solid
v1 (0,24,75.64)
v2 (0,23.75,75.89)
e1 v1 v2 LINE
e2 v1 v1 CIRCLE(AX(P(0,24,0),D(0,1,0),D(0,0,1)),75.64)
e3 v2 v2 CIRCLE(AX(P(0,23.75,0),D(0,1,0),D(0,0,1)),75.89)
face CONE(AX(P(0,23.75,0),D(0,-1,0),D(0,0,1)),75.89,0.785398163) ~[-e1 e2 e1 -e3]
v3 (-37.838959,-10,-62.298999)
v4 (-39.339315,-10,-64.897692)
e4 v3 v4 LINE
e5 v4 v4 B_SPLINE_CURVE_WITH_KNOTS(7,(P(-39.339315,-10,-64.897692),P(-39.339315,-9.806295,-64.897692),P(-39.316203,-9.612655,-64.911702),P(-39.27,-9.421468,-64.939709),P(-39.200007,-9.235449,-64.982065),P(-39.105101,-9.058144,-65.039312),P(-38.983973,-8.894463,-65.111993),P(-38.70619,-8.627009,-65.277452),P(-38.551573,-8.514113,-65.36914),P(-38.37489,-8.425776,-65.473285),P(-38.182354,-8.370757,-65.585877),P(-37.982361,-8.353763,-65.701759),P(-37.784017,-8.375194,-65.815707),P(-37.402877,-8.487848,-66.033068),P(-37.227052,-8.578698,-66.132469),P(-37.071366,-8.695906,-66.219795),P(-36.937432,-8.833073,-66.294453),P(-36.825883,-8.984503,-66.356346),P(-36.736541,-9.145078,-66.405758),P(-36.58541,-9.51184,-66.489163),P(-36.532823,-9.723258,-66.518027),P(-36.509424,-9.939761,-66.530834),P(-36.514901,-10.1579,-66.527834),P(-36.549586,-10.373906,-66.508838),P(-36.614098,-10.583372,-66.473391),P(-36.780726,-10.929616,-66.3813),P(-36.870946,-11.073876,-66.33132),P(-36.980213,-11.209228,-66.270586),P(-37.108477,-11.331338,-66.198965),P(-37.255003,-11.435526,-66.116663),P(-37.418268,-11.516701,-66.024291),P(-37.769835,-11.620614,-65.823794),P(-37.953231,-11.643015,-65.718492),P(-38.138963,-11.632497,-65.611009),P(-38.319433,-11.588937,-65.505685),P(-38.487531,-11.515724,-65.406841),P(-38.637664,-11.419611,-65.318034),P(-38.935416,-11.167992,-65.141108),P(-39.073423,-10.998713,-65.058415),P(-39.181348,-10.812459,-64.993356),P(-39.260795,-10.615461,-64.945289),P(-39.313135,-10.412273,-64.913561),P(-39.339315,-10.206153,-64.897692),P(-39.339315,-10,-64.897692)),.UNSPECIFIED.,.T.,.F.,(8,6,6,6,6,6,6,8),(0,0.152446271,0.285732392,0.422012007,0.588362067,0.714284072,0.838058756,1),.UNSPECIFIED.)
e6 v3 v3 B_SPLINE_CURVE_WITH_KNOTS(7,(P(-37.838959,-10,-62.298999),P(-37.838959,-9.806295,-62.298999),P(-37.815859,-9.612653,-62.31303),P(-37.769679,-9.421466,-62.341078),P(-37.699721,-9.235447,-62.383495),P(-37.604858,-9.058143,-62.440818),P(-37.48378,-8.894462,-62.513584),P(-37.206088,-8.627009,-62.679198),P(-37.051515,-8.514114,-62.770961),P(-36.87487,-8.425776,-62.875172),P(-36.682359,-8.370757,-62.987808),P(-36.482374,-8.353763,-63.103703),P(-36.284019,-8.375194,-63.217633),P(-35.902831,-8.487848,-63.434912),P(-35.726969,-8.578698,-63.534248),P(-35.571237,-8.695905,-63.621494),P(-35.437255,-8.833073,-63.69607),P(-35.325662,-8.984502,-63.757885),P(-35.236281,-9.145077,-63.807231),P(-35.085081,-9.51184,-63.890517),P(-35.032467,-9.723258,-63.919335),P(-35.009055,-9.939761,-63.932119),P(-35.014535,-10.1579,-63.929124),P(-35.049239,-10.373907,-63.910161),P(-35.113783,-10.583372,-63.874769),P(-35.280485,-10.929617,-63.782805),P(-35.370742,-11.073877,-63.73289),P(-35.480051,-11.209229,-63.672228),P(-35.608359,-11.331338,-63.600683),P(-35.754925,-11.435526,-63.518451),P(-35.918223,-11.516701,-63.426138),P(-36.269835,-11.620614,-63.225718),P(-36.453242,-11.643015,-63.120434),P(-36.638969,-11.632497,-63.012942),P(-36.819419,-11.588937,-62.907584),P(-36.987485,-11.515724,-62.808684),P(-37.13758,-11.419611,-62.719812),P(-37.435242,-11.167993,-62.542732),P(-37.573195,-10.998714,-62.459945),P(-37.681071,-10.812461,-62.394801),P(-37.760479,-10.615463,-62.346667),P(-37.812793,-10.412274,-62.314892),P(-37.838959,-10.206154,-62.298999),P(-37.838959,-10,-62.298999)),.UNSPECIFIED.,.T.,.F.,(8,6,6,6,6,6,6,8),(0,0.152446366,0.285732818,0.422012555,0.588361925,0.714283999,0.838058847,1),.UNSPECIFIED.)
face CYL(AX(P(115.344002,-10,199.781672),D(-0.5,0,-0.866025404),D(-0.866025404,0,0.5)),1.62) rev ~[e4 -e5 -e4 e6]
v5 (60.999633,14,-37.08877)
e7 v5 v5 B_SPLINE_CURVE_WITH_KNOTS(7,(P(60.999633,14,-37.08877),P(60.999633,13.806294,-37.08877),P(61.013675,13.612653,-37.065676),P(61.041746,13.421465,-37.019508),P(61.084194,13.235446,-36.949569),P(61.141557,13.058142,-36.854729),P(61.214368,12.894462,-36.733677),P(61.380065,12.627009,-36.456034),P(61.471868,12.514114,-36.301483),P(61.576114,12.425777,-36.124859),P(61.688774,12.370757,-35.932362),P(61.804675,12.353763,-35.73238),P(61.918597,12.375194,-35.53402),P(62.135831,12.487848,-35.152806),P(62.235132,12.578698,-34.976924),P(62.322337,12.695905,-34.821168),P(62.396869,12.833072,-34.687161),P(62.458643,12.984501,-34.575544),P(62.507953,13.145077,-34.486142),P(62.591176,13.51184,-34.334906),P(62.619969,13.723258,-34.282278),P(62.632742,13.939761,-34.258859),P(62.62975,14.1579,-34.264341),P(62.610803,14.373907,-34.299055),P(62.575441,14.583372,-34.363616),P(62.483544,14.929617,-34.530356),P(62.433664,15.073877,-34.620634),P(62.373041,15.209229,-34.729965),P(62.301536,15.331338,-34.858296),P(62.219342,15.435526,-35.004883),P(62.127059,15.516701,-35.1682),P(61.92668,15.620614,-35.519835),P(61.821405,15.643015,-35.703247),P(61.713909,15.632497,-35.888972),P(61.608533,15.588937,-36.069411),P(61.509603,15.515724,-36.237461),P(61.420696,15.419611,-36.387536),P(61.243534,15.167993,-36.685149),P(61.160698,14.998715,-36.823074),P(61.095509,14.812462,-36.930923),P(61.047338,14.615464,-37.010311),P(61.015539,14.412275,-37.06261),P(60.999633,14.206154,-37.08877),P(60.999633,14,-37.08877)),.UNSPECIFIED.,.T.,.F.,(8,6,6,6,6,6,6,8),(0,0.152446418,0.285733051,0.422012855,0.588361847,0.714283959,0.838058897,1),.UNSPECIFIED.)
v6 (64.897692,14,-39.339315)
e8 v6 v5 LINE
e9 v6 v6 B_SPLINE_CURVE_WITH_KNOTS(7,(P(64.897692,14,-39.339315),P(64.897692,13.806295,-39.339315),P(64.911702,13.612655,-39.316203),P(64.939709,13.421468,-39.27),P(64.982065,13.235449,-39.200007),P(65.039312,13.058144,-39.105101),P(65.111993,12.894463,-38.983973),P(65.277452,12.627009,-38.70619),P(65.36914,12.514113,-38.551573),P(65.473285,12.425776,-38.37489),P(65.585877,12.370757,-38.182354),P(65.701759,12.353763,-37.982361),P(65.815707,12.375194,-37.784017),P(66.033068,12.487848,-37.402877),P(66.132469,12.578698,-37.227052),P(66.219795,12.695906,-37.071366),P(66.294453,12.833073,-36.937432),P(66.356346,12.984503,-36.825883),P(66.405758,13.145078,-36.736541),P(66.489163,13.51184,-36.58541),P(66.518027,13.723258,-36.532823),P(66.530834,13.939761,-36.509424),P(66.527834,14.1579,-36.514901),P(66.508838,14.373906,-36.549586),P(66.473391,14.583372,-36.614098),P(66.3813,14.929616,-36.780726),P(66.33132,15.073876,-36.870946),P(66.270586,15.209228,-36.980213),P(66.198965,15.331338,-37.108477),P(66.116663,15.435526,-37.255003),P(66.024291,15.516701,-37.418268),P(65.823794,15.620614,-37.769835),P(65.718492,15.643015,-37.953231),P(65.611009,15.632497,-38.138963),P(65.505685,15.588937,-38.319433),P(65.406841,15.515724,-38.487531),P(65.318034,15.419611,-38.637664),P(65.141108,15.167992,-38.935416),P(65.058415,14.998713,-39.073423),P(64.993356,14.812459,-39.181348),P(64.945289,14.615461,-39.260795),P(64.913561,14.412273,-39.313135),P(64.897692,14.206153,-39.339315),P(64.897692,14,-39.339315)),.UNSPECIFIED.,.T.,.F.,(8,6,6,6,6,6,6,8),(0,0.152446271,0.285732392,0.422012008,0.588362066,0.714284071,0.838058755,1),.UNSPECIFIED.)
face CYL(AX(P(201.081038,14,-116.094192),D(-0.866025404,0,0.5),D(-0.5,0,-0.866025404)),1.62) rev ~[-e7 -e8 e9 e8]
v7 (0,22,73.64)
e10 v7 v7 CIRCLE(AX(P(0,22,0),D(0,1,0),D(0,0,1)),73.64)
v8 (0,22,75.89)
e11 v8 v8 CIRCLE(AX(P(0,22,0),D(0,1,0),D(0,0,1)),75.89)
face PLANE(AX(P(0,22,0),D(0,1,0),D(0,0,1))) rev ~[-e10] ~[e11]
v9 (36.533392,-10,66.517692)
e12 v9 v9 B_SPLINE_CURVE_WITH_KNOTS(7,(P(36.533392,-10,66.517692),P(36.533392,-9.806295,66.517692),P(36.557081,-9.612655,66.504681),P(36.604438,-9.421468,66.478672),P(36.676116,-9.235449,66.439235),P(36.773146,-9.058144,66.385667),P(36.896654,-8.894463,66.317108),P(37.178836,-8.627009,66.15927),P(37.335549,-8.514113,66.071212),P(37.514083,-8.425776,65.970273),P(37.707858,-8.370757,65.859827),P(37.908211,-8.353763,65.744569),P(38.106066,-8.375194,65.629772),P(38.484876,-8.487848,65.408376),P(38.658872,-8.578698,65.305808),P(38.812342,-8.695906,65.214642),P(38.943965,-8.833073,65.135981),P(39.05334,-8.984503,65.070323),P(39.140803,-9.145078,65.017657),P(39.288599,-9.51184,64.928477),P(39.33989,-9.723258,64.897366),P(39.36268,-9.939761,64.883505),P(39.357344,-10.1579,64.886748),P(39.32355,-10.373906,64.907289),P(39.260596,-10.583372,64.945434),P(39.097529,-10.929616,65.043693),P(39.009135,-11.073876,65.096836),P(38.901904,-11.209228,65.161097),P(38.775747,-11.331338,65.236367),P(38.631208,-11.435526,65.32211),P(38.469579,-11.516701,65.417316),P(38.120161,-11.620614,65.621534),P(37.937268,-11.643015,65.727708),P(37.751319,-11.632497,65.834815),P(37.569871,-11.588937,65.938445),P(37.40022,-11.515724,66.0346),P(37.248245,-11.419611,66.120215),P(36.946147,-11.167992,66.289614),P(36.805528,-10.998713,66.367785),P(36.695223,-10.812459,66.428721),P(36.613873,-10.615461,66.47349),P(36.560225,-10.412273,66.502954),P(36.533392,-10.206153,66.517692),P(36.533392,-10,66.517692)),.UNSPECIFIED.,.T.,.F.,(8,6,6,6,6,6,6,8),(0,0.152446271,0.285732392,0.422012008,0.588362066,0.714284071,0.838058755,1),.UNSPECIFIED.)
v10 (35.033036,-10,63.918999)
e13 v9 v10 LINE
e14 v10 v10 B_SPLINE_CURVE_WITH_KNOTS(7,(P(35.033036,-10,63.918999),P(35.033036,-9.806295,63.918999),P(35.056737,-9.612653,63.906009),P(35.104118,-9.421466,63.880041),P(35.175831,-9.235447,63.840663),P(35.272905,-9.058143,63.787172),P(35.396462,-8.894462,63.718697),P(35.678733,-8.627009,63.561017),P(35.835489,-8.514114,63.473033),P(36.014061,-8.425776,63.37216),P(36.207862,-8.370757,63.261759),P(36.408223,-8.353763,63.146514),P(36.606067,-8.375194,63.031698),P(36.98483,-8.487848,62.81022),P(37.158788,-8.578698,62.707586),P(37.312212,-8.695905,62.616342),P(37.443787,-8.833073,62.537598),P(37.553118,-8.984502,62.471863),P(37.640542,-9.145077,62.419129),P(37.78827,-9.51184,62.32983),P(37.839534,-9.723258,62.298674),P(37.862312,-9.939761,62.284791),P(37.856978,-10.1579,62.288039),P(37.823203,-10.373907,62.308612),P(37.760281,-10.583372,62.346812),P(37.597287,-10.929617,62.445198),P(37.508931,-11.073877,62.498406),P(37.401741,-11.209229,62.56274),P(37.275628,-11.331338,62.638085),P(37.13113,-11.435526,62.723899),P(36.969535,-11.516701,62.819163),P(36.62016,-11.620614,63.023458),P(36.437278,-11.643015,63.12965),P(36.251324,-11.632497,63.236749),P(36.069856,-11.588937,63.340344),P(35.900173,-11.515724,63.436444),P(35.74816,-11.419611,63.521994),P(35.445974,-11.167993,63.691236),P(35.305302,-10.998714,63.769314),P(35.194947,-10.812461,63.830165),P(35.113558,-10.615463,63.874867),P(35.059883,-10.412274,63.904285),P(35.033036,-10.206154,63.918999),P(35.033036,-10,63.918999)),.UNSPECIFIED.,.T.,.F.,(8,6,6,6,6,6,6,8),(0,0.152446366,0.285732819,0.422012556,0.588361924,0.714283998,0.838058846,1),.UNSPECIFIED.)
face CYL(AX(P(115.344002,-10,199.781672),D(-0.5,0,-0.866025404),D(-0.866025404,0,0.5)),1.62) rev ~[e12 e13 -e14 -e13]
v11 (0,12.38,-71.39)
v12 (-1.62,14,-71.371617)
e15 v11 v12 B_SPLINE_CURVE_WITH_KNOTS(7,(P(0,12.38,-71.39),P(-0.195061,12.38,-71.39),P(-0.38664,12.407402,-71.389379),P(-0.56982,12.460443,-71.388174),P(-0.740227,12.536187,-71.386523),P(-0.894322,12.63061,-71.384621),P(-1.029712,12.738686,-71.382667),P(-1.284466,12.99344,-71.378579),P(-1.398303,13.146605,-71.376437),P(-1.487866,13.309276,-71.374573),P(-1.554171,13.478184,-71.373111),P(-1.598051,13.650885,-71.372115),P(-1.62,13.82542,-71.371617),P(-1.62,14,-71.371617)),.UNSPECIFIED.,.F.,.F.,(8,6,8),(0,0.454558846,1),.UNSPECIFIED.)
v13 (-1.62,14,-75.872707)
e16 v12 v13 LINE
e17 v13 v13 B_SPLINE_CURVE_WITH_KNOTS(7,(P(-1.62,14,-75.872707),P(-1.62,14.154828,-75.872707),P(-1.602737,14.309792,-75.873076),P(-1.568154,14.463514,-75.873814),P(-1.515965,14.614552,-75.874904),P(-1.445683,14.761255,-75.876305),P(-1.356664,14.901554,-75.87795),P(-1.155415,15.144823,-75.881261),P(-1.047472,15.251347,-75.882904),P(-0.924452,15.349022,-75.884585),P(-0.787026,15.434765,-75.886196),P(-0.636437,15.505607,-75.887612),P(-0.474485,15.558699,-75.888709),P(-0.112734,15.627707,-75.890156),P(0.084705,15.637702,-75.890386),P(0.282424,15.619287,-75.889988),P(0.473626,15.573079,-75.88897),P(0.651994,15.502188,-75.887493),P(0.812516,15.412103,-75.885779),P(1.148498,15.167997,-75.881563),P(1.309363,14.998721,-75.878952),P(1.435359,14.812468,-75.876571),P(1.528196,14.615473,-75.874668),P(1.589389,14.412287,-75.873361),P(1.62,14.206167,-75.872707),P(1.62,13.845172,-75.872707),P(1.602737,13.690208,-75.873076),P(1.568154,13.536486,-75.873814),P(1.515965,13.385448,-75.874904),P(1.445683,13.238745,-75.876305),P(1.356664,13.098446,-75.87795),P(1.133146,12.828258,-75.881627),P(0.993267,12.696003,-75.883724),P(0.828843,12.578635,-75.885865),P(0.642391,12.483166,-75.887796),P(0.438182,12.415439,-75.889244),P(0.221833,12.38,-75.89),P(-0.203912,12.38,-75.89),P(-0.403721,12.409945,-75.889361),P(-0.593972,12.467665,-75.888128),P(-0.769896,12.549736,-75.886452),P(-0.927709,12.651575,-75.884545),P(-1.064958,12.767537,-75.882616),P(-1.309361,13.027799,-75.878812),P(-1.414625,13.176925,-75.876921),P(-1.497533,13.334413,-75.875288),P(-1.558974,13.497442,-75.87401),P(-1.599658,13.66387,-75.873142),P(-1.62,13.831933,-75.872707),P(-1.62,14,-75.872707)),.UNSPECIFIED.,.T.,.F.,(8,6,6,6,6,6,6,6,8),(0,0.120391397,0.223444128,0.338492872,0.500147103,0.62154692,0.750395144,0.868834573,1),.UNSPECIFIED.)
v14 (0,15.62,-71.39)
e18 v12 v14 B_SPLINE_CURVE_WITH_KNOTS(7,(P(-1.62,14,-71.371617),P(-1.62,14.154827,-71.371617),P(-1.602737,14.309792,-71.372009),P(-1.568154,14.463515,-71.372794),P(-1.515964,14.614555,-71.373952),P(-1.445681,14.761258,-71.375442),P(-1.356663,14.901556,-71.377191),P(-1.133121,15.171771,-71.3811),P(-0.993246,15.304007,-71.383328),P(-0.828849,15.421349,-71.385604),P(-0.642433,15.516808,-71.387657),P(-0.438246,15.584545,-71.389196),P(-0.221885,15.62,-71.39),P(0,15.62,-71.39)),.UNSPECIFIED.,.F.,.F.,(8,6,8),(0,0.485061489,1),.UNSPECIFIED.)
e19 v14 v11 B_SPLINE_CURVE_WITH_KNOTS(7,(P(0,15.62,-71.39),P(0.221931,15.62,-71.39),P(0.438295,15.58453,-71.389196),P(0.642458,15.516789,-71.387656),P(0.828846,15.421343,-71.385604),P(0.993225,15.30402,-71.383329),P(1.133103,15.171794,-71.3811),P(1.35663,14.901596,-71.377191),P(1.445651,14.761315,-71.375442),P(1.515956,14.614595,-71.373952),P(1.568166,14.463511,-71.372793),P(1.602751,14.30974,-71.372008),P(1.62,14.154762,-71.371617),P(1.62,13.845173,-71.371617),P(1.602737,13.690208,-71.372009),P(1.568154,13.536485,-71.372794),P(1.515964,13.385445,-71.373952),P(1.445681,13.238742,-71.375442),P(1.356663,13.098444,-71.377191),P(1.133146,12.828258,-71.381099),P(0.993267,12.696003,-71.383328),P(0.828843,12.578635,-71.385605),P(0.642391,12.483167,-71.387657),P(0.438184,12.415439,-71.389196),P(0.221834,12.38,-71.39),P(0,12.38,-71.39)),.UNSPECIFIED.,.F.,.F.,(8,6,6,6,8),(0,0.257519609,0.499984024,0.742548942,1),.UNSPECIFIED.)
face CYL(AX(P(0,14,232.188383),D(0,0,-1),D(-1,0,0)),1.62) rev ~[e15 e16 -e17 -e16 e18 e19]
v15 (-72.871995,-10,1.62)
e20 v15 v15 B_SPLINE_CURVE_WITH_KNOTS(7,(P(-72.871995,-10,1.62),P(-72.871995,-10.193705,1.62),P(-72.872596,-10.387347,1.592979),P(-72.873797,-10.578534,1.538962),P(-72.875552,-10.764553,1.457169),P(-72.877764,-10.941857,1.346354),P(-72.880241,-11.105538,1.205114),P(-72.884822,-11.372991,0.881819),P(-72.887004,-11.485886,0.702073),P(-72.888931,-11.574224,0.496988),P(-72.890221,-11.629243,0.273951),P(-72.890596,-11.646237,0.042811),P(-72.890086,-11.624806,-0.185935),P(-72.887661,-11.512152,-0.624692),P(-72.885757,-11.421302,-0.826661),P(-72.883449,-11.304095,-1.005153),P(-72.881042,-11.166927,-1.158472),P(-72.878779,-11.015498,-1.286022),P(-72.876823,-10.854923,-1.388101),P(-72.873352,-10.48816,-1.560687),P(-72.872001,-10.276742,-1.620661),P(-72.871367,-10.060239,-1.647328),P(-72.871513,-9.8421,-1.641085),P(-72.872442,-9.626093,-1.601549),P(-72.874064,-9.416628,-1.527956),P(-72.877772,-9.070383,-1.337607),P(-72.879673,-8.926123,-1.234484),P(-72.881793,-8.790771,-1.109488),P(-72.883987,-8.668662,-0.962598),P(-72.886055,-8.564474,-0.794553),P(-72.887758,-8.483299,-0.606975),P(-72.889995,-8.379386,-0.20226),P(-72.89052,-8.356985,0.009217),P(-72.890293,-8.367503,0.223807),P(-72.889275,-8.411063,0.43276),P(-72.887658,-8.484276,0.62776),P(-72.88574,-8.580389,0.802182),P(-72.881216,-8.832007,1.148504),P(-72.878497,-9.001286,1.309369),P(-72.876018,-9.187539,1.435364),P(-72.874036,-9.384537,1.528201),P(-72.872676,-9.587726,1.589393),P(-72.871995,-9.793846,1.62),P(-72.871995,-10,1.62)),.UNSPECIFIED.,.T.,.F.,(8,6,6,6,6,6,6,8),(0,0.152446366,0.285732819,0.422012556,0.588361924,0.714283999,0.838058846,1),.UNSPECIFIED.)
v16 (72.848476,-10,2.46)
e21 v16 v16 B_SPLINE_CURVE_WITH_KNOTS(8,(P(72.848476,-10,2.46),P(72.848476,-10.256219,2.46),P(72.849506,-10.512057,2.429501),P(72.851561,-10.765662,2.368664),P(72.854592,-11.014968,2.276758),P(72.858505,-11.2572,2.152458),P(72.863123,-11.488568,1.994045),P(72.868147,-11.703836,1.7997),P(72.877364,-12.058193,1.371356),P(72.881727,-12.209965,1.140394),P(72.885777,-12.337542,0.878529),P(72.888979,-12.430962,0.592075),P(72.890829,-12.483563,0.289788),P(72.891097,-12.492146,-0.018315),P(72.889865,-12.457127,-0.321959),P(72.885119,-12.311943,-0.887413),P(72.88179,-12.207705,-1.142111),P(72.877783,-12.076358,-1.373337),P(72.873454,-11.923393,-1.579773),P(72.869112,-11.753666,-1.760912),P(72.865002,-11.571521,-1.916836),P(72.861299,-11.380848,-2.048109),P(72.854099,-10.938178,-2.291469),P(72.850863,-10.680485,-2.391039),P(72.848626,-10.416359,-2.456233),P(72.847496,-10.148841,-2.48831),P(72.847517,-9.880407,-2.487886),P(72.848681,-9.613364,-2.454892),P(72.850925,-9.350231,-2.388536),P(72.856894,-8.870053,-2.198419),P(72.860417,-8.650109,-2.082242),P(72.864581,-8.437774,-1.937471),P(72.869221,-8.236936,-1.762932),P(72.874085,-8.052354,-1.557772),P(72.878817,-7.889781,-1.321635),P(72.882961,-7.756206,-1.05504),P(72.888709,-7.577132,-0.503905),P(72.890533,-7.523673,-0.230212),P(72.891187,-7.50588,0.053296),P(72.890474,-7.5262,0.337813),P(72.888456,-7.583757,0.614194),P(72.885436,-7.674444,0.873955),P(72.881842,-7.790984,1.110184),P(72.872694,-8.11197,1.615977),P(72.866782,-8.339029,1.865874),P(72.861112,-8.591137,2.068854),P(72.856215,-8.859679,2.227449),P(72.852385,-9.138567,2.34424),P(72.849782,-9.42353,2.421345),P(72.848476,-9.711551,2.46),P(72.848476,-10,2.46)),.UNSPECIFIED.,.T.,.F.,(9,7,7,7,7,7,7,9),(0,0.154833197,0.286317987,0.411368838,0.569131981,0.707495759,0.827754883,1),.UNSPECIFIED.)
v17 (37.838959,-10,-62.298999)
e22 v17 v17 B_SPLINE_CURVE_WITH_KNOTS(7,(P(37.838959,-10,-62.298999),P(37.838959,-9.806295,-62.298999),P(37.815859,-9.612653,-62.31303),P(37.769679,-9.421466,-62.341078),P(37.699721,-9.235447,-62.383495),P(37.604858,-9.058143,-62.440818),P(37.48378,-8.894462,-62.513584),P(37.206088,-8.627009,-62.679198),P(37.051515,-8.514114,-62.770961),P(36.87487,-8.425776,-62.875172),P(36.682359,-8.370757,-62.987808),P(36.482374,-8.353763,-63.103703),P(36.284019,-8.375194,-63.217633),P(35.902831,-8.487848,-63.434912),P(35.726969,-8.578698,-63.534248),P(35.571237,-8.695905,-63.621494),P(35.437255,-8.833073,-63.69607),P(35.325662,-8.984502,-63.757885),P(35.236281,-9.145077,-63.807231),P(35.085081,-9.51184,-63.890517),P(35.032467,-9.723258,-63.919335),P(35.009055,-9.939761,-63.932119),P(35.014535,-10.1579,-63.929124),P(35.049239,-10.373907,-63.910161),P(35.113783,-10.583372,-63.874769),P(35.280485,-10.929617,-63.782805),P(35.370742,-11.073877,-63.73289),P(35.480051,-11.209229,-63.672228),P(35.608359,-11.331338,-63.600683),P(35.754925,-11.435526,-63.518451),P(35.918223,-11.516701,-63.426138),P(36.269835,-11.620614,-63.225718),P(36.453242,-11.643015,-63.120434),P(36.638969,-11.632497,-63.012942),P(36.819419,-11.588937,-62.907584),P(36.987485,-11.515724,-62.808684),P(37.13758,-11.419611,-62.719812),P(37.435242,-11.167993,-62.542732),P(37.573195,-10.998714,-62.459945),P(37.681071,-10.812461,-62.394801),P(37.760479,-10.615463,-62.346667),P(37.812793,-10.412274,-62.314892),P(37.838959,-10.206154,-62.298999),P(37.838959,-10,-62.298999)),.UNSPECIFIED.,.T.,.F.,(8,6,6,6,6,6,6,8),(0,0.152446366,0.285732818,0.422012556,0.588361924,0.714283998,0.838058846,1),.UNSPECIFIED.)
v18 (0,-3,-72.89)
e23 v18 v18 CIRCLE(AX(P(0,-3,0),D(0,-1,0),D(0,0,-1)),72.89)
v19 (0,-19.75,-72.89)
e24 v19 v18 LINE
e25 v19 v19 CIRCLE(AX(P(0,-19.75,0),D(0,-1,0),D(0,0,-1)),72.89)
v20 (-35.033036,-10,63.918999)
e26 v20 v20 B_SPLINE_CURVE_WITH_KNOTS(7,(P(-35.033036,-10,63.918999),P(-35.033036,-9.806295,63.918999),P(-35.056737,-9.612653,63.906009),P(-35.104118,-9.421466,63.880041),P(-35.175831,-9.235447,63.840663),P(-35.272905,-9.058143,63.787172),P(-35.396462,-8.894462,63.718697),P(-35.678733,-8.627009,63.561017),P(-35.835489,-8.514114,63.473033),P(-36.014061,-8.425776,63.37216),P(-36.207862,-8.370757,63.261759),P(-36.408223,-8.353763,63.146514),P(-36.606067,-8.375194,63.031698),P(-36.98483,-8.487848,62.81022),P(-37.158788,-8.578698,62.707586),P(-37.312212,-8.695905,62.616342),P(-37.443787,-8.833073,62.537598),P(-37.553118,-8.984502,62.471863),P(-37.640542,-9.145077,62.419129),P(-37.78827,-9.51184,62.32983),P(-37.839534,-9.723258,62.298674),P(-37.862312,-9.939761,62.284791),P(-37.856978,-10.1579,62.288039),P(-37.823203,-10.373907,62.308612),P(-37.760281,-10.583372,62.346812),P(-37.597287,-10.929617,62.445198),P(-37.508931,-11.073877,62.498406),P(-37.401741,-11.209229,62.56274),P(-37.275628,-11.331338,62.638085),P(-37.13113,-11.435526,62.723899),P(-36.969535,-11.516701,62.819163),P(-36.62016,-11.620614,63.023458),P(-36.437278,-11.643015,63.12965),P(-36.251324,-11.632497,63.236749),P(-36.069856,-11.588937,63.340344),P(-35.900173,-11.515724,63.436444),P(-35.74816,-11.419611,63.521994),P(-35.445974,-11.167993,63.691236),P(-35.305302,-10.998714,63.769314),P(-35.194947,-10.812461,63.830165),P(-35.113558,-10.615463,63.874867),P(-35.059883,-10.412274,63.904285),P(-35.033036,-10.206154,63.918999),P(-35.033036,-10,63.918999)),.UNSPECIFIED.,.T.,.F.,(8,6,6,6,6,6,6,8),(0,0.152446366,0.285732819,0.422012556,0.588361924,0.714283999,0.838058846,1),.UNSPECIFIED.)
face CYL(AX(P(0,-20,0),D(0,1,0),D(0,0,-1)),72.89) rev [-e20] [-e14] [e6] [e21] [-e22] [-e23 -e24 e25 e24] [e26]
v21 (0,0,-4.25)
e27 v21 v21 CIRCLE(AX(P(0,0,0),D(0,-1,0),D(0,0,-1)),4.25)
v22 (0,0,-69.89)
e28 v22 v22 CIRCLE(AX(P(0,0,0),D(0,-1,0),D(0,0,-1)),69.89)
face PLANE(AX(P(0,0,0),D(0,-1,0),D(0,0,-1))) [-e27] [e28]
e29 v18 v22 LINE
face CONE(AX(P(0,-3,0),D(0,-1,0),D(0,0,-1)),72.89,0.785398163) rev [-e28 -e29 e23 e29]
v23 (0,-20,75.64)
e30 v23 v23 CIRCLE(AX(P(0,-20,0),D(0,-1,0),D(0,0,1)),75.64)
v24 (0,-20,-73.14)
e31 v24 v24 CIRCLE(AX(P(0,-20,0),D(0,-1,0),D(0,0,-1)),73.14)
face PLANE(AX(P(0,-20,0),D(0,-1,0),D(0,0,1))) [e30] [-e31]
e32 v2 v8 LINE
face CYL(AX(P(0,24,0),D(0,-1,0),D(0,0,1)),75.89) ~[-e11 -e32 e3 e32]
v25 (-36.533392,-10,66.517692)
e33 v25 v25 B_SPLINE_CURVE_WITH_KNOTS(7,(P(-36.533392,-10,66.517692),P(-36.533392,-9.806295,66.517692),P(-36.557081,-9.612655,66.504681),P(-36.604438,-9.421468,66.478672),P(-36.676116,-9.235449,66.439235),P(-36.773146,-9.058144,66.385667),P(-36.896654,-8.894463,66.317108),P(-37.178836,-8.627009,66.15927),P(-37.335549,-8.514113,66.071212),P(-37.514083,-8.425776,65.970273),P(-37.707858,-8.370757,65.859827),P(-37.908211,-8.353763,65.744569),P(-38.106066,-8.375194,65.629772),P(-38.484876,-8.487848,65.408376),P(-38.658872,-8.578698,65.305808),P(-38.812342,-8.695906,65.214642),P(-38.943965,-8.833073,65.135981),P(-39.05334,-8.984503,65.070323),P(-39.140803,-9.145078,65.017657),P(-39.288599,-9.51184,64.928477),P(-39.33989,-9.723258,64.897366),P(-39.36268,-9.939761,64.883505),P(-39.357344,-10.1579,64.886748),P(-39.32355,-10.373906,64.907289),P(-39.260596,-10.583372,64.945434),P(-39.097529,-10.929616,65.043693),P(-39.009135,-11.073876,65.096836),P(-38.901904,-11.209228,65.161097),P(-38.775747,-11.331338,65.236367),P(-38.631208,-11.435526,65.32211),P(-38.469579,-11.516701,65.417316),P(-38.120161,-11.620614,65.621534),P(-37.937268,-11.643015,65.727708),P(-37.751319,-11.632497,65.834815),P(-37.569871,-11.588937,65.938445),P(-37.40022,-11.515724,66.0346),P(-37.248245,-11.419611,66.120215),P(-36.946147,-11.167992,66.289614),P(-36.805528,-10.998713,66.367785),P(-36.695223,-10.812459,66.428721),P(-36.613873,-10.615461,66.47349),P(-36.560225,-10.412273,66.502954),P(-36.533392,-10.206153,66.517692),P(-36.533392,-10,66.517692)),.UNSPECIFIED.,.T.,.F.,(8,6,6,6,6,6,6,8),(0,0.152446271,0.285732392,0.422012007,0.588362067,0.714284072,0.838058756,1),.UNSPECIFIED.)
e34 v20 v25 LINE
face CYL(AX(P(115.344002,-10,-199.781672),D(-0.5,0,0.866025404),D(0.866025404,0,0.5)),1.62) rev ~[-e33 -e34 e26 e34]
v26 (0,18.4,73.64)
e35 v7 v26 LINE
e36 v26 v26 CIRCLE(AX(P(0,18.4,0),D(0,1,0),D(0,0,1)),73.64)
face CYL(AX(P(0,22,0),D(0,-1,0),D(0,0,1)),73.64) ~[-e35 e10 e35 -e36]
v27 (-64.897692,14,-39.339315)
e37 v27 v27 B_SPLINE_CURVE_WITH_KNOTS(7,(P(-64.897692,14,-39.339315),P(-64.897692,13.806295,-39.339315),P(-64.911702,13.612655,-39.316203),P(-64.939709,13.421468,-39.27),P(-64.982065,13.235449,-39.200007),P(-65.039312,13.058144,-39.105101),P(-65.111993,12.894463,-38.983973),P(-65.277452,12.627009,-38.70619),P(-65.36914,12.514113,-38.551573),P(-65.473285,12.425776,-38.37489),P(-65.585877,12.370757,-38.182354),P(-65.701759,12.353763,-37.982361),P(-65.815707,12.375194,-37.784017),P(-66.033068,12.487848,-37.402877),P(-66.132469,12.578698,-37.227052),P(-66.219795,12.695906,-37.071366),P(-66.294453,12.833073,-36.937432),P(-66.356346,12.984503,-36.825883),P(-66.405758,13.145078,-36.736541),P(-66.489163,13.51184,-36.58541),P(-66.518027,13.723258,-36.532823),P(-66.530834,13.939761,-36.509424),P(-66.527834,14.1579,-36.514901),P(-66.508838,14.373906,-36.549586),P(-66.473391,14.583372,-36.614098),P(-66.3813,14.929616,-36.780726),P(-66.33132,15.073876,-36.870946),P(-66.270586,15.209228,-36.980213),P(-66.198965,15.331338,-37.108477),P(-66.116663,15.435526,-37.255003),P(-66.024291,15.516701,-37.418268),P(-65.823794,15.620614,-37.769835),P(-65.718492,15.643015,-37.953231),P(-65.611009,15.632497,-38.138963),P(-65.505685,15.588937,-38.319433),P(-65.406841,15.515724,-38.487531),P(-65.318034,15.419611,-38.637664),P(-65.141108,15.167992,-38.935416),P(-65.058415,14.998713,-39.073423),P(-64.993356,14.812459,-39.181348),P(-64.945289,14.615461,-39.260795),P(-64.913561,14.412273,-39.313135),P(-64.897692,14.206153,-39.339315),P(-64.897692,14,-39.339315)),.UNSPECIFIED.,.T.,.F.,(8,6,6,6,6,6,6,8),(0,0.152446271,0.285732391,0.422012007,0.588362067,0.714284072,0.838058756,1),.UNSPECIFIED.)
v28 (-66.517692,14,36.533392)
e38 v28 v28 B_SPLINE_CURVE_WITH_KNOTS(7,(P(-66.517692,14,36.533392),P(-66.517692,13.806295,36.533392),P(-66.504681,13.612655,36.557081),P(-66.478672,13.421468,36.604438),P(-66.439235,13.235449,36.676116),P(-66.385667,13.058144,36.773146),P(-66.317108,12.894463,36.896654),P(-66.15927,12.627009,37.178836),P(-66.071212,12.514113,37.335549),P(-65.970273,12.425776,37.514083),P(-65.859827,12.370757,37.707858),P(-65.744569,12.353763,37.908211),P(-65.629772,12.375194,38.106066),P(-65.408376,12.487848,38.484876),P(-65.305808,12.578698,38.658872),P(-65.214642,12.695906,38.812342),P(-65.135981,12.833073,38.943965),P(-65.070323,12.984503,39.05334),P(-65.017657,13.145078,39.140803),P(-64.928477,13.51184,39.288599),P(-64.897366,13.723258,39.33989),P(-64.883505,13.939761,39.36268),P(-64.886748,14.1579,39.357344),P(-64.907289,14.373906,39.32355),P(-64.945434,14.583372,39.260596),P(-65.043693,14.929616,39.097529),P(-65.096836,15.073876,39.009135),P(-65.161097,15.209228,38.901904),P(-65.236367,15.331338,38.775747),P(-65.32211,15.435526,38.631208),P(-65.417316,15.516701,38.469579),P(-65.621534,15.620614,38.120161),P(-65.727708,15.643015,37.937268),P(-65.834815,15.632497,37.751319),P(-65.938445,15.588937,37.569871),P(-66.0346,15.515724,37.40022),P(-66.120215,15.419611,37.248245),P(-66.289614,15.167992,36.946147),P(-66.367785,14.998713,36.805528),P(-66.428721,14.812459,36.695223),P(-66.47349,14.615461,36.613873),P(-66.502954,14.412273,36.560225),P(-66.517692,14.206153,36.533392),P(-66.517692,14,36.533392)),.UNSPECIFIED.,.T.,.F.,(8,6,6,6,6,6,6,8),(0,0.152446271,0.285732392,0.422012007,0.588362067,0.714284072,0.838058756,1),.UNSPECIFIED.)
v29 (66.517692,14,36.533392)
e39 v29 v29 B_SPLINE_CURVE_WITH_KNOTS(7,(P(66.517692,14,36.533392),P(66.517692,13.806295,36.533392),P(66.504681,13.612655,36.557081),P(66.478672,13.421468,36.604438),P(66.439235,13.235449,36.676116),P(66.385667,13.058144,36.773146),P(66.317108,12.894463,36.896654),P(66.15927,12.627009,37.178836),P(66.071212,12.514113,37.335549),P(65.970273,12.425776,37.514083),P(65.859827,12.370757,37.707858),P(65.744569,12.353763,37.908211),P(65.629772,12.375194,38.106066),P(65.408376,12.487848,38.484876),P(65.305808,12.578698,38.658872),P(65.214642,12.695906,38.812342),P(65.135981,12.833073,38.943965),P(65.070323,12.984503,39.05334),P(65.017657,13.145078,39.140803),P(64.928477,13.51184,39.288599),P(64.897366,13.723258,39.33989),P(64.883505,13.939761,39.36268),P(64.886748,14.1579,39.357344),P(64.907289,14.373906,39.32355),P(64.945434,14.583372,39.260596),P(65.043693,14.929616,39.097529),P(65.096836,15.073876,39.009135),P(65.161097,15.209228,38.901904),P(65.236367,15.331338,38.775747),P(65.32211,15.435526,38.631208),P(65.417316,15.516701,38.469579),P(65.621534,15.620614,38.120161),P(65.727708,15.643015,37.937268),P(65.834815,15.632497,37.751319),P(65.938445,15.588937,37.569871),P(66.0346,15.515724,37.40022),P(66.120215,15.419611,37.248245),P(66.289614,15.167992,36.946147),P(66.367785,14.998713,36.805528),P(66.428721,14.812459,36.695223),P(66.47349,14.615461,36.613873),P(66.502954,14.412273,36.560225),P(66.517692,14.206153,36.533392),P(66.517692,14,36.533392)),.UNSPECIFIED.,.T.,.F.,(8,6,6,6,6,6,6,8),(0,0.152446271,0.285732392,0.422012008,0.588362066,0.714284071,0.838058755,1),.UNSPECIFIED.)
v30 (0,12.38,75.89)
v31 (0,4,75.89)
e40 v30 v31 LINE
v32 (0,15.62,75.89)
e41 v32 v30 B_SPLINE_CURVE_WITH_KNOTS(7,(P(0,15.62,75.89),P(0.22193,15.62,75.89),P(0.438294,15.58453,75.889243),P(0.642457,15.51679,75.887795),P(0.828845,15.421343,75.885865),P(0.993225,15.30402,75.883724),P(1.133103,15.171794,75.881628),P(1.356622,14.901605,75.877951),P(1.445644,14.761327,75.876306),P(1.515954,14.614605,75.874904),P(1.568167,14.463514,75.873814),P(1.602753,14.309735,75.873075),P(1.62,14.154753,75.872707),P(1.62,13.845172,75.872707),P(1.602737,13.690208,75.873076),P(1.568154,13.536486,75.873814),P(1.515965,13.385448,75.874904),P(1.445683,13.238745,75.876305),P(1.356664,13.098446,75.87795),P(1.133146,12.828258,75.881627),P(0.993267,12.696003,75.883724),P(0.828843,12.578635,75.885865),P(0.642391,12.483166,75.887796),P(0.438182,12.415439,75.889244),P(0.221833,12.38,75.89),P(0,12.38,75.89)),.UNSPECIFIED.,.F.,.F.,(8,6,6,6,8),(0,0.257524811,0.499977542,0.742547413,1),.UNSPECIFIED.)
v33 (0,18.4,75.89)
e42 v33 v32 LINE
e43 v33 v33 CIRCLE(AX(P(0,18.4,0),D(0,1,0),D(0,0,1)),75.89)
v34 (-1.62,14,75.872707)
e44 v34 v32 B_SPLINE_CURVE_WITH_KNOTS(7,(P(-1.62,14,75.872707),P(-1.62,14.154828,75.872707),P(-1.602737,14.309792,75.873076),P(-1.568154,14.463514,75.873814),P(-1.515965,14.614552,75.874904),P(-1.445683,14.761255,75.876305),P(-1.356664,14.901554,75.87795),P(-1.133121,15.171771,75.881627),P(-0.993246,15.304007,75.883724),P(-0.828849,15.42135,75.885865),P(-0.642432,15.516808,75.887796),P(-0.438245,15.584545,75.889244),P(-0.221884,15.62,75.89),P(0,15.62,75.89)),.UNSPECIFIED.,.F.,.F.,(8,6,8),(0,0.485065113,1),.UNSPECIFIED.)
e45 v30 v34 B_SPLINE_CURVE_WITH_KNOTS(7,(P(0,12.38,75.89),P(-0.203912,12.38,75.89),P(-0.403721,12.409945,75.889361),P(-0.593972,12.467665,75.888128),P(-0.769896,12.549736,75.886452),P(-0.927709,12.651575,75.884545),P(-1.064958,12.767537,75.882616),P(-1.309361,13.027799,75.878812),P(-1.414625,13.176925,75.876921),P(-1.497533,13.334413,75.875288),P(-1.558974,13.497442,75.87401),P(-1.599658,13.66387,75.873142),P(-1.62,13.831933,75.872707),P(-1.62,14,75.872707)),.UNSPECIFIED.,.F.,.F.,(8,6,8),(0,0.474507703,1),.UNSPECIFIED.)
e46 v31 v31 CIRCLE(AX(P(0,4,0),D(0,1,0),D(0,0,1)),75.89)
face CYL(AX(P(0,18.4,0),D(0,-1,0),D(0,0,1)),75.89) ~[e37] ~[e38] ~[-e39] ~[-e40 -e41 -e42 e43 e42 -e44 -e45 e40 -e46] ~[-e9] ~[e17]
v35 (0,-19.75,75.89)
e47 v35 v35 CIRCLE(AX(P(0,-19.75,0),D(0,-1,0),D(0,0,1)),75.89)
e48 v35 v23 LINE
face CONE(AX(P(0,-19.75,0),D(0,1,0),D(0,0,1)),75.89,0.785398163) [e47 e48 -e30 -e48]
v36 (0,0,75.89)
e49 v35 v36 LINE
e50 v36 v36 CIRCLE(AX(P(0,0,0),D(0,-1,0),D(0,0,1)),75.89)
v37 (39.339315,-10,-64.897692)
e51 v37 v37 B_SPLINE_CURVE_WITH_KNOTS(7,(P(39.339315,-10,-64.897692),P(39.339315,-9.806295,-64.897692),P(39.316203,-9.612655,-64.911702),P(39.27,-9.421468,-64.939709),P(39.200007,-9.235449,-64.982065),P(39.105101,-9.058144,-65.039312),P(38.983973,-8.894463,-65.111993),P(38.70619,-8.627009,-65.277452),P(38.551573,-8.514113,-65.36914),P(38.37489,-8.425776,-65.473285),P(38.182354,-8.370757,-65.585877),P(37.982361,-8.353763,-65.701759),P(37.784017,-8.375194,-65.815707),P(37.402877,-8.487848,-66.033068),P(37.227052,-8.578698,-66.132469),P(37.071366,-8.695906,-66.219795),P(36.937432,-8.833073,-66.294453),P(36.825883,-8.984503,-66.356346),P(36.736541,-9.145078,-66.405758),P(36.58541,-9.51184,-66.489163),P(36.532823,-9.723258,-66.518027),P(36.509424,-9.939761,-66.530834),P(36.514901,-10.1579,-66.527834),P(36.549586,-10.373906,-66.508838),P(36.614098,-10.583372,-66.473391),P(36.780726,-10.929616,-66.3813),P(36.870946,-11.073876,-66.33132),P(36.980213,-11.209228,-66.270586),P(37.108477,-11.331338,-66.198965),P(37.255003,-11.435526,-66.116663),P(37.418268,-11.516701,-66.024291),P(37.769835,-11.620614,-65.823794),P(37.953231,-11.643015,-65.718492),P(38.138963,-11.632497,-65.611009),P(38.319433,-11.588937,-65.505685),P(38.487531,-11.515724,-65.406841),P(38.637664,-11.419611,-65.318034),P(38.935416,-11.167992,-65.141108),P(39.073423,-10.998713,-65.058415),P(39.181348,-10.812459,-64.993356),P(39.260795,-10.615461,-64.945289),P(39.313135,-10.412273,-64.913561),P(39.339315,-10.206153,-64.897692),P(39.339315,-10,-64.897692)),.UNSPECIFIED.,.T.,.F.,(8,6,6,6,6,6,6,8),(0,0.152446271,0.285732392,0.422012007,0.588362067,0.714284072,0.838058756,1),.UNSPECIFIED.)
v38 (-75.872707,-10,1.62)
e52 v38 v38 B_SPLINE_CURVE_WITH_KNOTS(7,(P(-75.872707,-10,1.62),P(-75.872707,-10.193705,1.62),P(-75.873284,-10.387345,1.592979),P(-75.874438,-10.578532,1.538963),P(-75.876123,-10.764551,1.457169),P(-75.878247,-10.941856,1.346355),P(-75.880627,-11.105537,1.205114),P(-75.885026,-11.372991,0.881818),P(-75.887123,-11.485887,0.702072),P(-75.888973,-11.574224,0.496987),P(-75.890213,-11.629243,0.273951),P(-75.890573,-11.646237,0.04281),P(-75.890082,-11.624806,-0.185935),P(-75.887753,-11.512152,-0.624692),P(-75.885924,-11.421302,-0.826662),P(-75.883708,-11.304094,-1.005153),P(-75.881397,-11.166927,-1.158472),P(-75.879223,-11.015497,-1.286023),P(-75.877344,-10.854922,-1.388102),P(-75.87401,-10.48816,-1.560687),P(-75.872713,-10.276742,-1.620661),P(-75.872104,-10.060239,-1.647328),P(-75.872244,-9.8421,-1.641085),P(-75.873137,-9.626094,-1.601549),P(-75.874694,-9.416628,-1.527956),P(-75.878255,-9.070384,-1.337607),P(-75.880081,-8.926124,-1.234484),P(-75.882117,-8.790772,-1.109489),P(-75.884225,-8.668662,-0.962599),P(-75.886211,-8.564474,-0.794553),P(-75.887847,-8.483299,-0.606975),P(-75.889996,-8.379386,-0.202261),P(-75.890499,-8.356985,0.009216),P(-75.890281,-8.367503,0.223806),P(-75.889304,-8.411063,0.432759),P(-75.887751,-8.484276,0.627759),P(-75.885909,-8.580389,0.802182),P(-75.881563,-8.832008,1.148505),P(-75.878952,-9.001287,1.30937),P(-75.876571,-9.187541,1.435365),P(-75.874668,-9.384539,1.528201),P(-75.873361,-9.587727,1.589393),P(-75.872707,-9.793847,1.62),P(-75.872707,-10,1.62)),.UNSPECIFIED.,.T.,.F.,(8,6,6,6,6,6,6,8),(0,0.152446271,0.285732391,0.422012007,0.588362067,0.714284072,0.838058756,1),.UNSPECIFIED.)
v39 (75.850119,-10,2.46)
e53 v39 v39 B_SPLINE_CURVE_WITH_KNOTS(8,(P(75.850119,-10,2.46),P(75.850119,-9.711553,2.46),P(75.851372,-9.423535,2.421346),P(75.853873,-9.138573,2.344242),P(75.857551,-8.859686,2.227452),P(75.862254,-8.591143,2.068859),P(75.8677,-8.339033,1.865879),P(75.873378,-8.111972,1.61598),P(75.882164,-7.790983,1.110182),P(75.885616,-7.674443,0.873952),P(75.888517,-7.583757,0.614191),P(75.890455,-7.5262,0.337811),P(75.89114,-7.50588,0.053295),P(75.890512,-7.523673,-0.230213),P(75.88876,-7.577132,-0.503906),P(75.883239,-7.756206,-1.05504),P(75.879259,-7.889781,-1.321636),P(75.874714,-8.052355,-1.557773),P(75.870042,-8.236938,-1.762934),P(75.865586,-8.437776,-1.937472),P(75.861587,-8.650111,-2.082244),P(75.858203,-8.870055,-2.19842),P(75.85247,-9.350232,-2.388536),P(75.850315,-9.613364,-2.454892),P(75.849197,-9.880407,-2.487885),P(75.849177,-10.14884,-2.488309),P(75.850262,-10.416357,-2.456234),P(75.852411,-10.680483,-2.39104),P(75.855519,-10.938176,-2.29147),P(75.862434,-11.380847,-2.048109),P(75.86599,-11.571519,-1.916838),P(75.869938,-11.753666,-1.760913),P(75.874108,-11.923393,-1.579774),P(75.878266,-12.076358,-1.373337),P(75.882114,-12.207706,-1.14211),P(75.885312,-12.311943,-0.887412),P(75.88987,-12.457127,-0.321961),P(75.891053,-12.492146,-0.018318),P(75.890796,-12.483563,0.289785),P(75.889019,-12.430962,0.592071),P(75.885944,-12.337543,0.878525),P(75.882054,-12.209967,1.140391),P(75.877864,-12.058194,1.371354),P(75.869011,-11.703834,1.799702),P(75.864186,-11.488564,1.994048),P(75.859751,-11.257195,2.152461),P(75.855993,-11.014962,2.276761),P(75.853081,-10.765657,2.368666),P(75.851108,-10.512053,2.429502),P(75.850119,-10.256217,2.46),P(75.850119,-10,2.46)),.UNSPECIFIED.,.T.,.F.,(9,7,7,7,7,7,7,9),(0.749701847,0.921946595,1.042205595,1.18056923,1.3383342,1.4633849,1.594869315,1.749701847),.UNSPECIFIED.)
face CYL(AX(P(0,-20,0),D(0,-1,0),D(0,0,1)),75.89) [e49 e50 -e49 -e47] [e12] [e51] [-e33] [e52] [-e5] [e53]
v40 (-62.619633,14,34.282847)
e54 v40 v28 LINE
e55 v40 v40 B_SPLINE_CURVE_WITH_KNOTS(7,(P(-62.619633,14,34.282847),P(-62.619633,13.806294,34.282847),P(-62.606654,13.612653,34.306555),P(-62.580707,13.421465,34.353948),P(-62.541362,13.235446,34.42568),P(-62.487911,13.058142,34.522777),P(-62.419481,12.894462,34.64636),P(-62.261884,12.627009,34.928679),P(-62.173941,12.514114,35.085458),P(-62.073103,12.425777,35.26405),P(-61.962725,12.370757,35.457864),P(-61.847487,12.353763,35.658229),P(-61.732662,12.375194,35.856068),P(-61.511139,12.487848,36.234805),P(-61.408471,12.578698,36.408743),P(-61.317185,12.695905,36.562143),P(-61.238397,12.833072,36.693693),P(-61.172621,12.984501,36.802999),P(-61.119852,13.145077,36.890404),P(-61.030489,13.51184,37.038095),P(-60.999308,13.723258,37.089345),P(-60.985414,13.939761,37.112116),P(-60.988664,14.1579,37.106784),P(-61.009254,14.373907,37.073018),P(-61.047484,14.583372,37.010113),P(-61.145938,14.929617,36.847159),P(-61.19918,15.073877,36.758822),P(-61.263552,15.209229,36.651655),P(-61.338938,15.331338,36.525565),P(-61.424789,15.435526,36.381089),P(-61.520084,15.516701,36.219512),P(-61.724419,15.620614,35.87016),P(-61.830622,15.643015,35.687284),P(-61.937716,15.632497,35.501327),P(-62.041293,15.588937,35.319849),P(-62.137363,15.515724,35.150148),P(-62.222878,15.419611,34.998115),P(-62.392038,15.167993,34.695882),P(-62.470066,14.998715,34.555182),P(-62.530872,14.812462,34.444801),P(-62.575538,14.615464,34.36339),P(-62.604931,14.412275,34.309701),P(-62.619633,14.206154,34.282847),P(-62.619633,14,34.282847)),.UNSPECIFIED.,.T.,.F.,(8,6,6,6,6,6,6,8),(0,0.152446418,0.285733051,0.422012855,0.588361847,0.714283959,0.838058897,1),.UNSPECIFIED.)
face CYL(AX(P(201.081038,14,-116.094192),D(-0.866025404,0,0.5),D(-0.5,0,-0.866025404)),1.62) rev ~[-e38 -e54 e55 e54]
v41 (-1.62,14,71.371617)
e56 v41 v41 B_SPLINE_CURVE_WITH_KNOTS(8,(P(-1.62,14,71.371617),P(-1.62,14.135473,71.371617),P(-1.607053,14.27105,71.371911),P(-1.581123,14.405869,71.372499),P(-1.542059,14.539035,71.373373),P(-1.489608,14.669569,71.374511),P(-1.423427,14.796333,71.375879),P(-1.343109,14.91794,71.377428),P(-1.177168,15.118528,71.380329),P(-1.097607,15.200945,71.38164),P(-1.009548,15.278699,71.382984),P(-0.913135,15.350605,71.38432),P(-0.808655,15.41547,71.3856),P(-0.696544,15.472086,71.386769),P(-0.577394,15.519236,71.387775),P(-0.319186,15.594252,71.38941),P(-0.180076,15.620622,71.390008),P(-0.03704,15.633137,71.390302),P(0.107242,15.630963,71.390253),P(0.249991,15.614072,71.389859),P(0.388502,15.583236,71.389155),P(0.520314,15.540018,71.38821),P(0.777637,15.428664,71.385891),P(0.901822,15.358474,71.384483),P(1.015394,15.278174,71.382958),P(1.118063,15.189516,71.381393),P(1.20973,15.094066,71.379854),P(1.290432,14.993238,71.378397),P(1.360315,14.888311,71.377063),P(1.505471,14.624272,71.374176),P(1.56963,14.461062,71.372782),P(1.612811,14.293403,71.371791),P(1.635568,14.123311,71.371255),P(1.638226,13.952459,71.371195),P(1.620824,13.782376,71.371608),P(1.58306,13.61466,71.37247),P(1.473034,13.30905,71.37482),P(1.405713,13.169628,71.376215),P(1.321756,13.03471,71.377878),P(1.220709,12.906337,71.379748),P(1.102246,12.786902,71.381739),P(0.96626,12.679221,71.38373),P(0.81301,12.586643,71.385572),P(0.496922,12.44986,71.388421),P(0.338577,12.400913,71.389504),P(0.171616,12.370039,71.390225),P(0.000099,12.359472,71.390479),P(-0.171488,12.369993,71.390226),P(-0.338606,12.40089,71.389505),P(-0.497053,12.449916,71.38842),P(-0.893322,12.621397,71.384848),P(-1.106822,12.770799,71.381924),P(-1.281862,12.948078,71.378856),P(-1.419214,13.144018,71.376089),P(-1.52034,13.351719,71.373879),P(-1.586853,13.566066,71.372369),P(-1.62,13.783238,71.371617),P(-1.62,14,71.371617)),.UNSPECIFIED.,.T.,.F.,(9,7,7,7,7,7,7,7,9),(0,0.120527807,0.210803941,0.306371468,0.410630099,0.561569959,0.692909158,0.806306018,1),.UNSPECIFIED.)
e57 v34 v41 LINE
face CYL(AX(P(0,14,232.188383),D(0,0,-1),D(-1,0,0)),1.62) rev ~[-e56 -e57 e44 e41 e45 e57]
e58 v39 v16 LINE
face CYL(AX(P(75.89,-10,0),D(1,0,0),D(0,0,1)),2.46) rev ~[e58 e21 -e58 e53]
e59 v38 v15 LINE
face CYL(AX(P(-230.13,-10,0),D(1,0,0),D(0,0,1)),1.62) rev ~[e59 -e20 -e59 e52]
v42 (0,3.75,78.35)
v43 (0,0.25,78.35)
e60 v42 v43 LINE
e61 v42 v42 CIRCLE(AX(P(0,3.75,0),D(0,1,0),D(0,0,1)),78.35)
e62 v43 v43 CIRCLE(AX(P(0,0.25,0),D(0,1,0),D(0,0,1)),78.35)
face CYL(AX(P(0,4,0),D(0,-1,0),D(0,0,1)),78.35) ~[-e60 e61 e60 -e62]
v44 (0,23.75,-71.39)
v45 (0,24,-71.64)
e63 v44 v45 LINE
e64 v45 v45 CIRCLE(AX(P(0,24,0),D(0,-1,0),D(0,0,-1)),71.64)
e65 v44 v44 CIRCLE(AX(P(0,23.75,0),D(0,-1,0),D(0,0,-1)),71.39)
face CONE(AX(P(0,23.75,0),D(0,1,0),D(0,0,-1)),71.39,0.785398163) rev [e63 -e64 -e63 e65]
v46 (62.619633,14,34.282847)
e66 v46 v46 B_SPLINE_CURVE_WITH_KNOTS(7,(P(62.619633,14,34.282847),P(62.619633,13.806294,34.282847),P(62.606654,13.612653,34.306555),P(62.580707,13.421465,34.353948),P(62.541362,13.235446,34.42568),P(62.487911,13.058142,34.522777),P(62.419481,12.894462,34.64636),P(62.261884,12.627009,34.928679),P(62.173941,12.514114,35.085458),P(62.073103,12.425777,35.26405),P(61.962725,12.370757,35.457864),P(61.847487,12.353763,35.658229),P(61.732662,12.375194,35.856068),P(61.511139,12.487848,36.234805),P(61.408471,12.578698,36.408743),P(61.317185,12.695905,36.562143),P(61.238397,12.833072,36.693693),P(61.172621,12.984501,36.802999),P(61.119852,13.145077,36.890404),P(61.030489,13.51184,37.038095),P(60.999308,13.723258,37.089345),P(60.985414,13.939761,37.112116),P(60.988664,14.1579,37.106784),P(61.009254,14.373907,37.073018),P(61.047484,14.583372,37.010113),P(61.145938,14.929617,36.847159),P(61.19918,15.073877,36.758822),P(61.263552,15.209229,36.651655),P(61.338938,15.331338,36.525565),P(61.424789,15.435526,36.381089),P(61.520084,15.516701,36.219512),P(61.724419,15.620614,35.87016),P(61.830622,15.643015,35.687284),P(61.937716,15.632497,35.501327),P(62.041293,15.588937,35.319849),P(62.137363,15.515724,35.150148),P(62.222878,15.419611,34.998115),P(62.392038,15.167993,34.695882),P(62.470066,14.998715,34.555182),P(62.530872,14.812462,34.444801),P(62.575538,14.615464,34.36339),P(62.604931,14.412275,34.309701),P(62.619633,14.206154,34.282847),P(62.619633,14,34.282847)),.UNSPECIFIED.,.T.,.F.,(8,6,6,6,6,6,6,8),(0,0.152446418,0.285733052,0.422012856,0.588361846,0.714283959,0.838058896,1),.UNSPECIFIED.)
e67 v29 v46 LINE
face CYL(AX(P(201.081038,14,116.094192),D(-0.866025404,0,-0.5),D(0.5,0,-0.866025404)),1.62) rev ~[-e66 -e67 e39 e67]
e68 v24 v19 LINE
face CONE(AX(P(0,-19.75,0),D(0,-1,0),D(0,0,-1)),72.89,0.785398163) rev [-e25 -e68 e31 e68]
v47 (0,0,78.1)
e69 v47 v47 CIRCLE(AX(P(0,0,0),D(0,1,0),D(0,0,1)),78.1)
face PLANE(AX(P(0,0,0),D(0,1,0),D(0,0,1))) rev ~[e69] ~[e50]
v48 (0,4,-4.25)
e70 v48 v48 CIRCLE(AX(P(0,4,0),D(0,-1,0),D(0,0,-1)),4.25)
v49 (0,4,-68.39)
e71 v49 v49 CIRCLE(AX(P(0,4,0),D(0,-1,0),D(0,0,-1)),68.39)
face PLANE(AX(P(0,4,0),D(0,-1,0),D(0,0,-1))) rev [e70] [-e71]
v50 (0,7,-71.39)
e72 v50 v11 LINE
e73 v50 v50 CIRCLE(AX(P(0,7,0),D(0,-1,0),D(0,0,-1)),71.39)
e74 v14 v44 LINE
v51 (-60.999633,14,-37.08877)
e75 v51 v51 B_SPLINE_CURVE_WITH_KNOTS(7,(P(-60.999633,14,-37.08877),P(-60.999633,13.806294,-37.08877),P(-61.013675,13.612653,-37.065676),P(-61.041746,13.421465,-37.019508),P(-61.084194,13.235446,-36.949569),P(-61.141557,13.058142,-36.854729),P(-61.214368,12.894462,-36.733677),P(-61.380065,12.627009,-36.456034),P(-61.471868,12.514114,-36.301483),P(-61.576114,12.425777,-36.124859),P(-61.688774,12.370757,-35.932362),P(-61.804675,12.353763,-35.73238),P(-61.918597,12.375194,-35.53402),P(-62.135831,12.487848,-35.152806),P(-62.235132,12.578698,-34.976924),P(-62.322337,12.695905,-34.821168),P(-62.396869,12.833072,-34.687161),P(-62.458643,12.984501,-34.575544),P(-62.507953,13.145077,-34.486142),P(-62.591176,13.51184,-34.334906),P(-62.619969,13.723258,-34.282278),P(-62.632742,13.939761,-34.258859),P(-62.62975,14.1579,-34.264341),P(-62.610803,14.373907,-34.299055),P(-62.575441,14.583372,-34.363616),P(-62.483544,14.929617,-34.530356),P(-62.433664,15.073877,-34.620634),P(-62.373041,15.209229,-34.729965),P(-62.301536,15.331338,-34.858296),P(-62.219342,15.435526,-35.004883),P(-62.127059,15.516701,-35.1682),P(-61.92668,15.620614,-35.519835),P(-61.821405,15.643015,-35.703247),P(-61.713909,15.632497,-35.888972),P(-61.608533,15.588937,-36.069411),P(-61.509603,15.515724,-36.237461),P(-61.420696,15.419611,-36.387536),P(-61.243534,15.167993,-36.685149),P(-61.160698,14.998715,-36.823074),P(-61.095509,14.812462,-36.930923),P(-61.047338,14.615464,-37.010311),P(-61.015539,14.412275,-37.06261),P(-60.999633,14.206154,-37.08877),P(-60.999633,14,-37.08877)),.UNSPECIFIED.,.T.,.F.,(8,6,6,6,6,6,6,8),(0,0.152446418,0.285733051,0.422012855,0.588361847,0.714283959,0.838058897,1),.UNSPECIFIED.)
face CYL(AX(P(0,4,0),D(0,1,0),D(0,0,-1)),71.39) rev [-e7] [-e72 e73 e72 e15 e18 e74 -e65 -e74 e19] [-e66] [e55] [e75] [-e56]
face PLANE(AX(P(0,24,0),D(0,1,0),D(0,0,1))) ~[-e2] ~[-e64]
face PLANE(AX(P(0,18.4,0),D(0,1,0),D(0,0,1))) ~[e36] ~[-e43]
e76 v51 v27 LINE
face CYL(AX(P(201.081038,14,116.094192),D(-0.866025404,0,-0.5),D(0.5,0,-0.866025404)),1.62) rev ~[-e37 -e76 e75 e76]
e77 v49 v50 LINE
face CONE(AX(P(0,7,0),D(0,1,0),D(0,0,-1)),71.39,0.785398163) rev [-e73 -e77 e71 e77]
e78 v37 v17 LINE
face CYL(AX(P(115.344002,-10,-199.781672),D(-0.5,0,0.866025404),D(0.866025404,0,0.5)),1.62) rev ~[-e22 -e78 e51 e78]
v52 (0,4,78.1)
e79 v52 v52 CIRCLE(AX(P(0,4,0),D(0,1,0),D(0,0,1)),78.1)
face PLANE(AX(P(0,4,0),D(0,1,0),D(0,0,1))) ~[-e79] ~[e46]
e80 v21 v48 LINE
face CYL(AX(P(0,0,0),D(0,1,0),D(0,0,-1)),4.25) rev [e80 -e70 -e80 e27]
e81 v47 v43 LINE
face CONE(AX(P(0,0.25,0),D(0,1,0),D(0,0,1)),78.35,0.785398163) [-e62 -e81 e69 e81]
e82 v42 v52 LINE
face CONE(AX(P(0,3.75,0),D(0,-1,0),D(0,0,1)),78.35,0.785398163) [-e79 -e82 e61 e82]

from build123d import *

# Parameters (mm, degrees)
BOSS_EXTRUDE1_START      = 20
SKETCH2_R                = 75.89
BOSS_EXTRUDE1_DEPTH      = 20
M3_CLEARANCE_HOLE1_D     = 3.24
M3_CLEARANCE_HOLE1_DEPTH = 156.298383092
M3_CLEARANCE_HOLE2_D     = 3.24
M3_CLEARANCE_HOLE2_DEPTH = 156.298383092
M3_CLEARANCE_HOLE3_D     = 3.24
M3_CLEARANCE_HOLE3_DEPTH = 156.298383092
HOLE1_REACH              = 178.309
HOLE1_BORE_R             = 2.46
M3_CLEARANCE_HOLE4_D     = 3.24
M3_CLEARANCE_HOLE4_DEPTH = 154.24
M3_CLEARANCE_HOLE5_D     = 3.24
M3_CLEARANCE_HOLE5_DEPTH = 154.798004693
M3_CLEARANCE_HOLE6_D     = 3.24
M3_CLEARANCE_HOLE6_DEPTH = 154.798004693
CHAMFER1_SIZE            = 0.25
CHAMFER2_SIZE            = 3


with BuildPart() as part:
    # Sketch1 → Revolve1 (revolve)
    with BuildSketch(Plane(origin=(0, 0, 0), x_dir=(-1, 0, 0), z_dir=(0, 0, -1)), mode=Mode.PRIVATE) as revolve1_sk:
        Polygon((-78.35, 0), (0, 0), (0, 24), (-75.89, 24), (-75.89, 22), (-73.64, 22), (-73.64, 18.4), (-75.89, 18.4), (-75.89, 4), (-78.35, 4), align=None)
    revolve(revolve1_sk.sketch.rotate(Axis((0, 0, 0), (0, 1, 0)), 270), axis=Axis((0, 0, 0), (0, 1, 0)))

    # Sketch2 → Boss-Extrude1 (add)
    with BuildSketch(Plane.XZ.offset(BOSS_EXTRUDE1_START)):
        with Locations(Location((0, 0, 0), (0, 0, 90))):
            Circle(SKETCH2_R)
    extrude(amount=-BOSS_EXTRUDE1_DEPTH)

    # Sketch3 → Cut-Revolve1 (revolve, cut)
    with BuildSketch(Plane.XY, mode=Mode.PRIVATE) as cut_revolve1_sk:
        Polygon((71.39, 24), (0, 24), (0, -20), (72.89, -20), (72.89, 0), (4.25, 0), (4.25, 4), (71.39, 4), align=None)
    revolve(cut_revolve1_sk.sketch.rotate(Axis((0, 24, 0), (0, -1, 0)), 270), axis=Axis((0, 24, 0), (0, -1, 0)), mode=Mode.SUBTRACT)

    # M3 Clearance Hole1
    with Locations(Plane(origin=(65.722667893, 14, -37.945), x_dir=(0.5, 0, 0.866025403784), z_dir=(0.866025403784, 0, -0.5))):
        with Locations((0, 0)):
            Hole(M3_CLEARANCE_HOLE1_D / 2, depth=M3_CLEARANCE_HOLE1_DEPTH)

    # M3 Clearance Hole2
    with Locations(Plane(origin=(65.722667893, 14, 37.945), x_dir=(-0.5, 0, 0.866025403784), z_dir=(0.866025403784, 0, 0.5))):
        with Locations((0, 0)):
            Hole(M3_CLEARANCE_HOLE2_D / 2, depth=M3_CLEARANCE_HOLE2_DEPTH)

    # M3 Clearance Hole3
    with Locations(Plane(origin=(0, 14, 75.89), x_dir=(1, 0, 0), z_dir=(0, 0, 1))):
        with Locations((0, 0)):
            Hole(M3_CLEARANCE_HOLE3_D / 2, depth=M3_CLEARANCE_HOLE3_DEPTH)

    # Hole1 bore (on position points) → Hole1 (cut, up to next)
    with BuildSketch(Plane(origin=(75.89, -10, 0), x_dir=(0, 0, 1), z_dir=(1, 0, 0)), mode=Mode.PRIVATE) as hole1_sk1:
        Circle(HOLE1_BORE_R)
    hole1_tool1 = extrude(hole1_sk1.sketch, amount=-HOLE1_REACH, mode=Mode.PRIVATE) & part.part
    add(hole1_tool1.solids().sort_by_distance((75.89, -10, 0))[0], mode=Mode.SUBTRACT)

    # M3 Clearance Hole4
    with Locations(Plane(origin=(-75.89, -10, 0), x_dir=(0, 0, -1), z_dir=(-1, 0, 0))):
        with Locations((0, 0)):
            Hole(M3_CLEARANCE_HOLE4_D / 2, depth=M3_CLEARANCE_HOLE4_DEPTH)

    # M3 Clearance Hole5
    with Locations(Plane(origin=(37.945, -10, -65.722667893), x_dir=(-0.866025403784, 0, -0.5), z_dir=(0.5, 0, -0.866025403784))):
        with Locations((0, 0)):
            Hole(M3_CLEARANCE_HOLE5_D / 2, depth=M3_CLEARANCE_HOLE5_DEPTH)

    # M3 Clearance Hole6
    with Locations(Plane(origin=(37.945, -10, 65.722667893), x_dir=(0.866025403784, 0, -0.5), z_dir=(0.5, 0, 0.866025403784))):
        with Locations((0, 0)):
            Hole(M3_CLEARANCE_HOLE6_D / 2, depth=M3_CLEARANCE_HOLE6_DEPTH)

    # Chamfer1
    chamfer1_edges = [part.edges().sort_by_distance(p)[0] for p in [
        (0, 24, -75.89),
        (0, 0, -78.35),
        (0, -20, -75.89),
        (0, 24, 71.39),
        (0, -20, 72.89),
        (0, 4, -78.35),
    ]]
    chamfer(chamfer1_edges, length=CHAMFER1_SIZE)

    # Chamfer2
    chamfer2_edges = [part.edges().sort_by_distance(p)[0] for p in [
        (0, 0, 72.89),
        (0, 4, 71.39),
    ]]
    chamfer(chamfer2_edges, length=CHAMFER2_SIZE)


solid = part.part
